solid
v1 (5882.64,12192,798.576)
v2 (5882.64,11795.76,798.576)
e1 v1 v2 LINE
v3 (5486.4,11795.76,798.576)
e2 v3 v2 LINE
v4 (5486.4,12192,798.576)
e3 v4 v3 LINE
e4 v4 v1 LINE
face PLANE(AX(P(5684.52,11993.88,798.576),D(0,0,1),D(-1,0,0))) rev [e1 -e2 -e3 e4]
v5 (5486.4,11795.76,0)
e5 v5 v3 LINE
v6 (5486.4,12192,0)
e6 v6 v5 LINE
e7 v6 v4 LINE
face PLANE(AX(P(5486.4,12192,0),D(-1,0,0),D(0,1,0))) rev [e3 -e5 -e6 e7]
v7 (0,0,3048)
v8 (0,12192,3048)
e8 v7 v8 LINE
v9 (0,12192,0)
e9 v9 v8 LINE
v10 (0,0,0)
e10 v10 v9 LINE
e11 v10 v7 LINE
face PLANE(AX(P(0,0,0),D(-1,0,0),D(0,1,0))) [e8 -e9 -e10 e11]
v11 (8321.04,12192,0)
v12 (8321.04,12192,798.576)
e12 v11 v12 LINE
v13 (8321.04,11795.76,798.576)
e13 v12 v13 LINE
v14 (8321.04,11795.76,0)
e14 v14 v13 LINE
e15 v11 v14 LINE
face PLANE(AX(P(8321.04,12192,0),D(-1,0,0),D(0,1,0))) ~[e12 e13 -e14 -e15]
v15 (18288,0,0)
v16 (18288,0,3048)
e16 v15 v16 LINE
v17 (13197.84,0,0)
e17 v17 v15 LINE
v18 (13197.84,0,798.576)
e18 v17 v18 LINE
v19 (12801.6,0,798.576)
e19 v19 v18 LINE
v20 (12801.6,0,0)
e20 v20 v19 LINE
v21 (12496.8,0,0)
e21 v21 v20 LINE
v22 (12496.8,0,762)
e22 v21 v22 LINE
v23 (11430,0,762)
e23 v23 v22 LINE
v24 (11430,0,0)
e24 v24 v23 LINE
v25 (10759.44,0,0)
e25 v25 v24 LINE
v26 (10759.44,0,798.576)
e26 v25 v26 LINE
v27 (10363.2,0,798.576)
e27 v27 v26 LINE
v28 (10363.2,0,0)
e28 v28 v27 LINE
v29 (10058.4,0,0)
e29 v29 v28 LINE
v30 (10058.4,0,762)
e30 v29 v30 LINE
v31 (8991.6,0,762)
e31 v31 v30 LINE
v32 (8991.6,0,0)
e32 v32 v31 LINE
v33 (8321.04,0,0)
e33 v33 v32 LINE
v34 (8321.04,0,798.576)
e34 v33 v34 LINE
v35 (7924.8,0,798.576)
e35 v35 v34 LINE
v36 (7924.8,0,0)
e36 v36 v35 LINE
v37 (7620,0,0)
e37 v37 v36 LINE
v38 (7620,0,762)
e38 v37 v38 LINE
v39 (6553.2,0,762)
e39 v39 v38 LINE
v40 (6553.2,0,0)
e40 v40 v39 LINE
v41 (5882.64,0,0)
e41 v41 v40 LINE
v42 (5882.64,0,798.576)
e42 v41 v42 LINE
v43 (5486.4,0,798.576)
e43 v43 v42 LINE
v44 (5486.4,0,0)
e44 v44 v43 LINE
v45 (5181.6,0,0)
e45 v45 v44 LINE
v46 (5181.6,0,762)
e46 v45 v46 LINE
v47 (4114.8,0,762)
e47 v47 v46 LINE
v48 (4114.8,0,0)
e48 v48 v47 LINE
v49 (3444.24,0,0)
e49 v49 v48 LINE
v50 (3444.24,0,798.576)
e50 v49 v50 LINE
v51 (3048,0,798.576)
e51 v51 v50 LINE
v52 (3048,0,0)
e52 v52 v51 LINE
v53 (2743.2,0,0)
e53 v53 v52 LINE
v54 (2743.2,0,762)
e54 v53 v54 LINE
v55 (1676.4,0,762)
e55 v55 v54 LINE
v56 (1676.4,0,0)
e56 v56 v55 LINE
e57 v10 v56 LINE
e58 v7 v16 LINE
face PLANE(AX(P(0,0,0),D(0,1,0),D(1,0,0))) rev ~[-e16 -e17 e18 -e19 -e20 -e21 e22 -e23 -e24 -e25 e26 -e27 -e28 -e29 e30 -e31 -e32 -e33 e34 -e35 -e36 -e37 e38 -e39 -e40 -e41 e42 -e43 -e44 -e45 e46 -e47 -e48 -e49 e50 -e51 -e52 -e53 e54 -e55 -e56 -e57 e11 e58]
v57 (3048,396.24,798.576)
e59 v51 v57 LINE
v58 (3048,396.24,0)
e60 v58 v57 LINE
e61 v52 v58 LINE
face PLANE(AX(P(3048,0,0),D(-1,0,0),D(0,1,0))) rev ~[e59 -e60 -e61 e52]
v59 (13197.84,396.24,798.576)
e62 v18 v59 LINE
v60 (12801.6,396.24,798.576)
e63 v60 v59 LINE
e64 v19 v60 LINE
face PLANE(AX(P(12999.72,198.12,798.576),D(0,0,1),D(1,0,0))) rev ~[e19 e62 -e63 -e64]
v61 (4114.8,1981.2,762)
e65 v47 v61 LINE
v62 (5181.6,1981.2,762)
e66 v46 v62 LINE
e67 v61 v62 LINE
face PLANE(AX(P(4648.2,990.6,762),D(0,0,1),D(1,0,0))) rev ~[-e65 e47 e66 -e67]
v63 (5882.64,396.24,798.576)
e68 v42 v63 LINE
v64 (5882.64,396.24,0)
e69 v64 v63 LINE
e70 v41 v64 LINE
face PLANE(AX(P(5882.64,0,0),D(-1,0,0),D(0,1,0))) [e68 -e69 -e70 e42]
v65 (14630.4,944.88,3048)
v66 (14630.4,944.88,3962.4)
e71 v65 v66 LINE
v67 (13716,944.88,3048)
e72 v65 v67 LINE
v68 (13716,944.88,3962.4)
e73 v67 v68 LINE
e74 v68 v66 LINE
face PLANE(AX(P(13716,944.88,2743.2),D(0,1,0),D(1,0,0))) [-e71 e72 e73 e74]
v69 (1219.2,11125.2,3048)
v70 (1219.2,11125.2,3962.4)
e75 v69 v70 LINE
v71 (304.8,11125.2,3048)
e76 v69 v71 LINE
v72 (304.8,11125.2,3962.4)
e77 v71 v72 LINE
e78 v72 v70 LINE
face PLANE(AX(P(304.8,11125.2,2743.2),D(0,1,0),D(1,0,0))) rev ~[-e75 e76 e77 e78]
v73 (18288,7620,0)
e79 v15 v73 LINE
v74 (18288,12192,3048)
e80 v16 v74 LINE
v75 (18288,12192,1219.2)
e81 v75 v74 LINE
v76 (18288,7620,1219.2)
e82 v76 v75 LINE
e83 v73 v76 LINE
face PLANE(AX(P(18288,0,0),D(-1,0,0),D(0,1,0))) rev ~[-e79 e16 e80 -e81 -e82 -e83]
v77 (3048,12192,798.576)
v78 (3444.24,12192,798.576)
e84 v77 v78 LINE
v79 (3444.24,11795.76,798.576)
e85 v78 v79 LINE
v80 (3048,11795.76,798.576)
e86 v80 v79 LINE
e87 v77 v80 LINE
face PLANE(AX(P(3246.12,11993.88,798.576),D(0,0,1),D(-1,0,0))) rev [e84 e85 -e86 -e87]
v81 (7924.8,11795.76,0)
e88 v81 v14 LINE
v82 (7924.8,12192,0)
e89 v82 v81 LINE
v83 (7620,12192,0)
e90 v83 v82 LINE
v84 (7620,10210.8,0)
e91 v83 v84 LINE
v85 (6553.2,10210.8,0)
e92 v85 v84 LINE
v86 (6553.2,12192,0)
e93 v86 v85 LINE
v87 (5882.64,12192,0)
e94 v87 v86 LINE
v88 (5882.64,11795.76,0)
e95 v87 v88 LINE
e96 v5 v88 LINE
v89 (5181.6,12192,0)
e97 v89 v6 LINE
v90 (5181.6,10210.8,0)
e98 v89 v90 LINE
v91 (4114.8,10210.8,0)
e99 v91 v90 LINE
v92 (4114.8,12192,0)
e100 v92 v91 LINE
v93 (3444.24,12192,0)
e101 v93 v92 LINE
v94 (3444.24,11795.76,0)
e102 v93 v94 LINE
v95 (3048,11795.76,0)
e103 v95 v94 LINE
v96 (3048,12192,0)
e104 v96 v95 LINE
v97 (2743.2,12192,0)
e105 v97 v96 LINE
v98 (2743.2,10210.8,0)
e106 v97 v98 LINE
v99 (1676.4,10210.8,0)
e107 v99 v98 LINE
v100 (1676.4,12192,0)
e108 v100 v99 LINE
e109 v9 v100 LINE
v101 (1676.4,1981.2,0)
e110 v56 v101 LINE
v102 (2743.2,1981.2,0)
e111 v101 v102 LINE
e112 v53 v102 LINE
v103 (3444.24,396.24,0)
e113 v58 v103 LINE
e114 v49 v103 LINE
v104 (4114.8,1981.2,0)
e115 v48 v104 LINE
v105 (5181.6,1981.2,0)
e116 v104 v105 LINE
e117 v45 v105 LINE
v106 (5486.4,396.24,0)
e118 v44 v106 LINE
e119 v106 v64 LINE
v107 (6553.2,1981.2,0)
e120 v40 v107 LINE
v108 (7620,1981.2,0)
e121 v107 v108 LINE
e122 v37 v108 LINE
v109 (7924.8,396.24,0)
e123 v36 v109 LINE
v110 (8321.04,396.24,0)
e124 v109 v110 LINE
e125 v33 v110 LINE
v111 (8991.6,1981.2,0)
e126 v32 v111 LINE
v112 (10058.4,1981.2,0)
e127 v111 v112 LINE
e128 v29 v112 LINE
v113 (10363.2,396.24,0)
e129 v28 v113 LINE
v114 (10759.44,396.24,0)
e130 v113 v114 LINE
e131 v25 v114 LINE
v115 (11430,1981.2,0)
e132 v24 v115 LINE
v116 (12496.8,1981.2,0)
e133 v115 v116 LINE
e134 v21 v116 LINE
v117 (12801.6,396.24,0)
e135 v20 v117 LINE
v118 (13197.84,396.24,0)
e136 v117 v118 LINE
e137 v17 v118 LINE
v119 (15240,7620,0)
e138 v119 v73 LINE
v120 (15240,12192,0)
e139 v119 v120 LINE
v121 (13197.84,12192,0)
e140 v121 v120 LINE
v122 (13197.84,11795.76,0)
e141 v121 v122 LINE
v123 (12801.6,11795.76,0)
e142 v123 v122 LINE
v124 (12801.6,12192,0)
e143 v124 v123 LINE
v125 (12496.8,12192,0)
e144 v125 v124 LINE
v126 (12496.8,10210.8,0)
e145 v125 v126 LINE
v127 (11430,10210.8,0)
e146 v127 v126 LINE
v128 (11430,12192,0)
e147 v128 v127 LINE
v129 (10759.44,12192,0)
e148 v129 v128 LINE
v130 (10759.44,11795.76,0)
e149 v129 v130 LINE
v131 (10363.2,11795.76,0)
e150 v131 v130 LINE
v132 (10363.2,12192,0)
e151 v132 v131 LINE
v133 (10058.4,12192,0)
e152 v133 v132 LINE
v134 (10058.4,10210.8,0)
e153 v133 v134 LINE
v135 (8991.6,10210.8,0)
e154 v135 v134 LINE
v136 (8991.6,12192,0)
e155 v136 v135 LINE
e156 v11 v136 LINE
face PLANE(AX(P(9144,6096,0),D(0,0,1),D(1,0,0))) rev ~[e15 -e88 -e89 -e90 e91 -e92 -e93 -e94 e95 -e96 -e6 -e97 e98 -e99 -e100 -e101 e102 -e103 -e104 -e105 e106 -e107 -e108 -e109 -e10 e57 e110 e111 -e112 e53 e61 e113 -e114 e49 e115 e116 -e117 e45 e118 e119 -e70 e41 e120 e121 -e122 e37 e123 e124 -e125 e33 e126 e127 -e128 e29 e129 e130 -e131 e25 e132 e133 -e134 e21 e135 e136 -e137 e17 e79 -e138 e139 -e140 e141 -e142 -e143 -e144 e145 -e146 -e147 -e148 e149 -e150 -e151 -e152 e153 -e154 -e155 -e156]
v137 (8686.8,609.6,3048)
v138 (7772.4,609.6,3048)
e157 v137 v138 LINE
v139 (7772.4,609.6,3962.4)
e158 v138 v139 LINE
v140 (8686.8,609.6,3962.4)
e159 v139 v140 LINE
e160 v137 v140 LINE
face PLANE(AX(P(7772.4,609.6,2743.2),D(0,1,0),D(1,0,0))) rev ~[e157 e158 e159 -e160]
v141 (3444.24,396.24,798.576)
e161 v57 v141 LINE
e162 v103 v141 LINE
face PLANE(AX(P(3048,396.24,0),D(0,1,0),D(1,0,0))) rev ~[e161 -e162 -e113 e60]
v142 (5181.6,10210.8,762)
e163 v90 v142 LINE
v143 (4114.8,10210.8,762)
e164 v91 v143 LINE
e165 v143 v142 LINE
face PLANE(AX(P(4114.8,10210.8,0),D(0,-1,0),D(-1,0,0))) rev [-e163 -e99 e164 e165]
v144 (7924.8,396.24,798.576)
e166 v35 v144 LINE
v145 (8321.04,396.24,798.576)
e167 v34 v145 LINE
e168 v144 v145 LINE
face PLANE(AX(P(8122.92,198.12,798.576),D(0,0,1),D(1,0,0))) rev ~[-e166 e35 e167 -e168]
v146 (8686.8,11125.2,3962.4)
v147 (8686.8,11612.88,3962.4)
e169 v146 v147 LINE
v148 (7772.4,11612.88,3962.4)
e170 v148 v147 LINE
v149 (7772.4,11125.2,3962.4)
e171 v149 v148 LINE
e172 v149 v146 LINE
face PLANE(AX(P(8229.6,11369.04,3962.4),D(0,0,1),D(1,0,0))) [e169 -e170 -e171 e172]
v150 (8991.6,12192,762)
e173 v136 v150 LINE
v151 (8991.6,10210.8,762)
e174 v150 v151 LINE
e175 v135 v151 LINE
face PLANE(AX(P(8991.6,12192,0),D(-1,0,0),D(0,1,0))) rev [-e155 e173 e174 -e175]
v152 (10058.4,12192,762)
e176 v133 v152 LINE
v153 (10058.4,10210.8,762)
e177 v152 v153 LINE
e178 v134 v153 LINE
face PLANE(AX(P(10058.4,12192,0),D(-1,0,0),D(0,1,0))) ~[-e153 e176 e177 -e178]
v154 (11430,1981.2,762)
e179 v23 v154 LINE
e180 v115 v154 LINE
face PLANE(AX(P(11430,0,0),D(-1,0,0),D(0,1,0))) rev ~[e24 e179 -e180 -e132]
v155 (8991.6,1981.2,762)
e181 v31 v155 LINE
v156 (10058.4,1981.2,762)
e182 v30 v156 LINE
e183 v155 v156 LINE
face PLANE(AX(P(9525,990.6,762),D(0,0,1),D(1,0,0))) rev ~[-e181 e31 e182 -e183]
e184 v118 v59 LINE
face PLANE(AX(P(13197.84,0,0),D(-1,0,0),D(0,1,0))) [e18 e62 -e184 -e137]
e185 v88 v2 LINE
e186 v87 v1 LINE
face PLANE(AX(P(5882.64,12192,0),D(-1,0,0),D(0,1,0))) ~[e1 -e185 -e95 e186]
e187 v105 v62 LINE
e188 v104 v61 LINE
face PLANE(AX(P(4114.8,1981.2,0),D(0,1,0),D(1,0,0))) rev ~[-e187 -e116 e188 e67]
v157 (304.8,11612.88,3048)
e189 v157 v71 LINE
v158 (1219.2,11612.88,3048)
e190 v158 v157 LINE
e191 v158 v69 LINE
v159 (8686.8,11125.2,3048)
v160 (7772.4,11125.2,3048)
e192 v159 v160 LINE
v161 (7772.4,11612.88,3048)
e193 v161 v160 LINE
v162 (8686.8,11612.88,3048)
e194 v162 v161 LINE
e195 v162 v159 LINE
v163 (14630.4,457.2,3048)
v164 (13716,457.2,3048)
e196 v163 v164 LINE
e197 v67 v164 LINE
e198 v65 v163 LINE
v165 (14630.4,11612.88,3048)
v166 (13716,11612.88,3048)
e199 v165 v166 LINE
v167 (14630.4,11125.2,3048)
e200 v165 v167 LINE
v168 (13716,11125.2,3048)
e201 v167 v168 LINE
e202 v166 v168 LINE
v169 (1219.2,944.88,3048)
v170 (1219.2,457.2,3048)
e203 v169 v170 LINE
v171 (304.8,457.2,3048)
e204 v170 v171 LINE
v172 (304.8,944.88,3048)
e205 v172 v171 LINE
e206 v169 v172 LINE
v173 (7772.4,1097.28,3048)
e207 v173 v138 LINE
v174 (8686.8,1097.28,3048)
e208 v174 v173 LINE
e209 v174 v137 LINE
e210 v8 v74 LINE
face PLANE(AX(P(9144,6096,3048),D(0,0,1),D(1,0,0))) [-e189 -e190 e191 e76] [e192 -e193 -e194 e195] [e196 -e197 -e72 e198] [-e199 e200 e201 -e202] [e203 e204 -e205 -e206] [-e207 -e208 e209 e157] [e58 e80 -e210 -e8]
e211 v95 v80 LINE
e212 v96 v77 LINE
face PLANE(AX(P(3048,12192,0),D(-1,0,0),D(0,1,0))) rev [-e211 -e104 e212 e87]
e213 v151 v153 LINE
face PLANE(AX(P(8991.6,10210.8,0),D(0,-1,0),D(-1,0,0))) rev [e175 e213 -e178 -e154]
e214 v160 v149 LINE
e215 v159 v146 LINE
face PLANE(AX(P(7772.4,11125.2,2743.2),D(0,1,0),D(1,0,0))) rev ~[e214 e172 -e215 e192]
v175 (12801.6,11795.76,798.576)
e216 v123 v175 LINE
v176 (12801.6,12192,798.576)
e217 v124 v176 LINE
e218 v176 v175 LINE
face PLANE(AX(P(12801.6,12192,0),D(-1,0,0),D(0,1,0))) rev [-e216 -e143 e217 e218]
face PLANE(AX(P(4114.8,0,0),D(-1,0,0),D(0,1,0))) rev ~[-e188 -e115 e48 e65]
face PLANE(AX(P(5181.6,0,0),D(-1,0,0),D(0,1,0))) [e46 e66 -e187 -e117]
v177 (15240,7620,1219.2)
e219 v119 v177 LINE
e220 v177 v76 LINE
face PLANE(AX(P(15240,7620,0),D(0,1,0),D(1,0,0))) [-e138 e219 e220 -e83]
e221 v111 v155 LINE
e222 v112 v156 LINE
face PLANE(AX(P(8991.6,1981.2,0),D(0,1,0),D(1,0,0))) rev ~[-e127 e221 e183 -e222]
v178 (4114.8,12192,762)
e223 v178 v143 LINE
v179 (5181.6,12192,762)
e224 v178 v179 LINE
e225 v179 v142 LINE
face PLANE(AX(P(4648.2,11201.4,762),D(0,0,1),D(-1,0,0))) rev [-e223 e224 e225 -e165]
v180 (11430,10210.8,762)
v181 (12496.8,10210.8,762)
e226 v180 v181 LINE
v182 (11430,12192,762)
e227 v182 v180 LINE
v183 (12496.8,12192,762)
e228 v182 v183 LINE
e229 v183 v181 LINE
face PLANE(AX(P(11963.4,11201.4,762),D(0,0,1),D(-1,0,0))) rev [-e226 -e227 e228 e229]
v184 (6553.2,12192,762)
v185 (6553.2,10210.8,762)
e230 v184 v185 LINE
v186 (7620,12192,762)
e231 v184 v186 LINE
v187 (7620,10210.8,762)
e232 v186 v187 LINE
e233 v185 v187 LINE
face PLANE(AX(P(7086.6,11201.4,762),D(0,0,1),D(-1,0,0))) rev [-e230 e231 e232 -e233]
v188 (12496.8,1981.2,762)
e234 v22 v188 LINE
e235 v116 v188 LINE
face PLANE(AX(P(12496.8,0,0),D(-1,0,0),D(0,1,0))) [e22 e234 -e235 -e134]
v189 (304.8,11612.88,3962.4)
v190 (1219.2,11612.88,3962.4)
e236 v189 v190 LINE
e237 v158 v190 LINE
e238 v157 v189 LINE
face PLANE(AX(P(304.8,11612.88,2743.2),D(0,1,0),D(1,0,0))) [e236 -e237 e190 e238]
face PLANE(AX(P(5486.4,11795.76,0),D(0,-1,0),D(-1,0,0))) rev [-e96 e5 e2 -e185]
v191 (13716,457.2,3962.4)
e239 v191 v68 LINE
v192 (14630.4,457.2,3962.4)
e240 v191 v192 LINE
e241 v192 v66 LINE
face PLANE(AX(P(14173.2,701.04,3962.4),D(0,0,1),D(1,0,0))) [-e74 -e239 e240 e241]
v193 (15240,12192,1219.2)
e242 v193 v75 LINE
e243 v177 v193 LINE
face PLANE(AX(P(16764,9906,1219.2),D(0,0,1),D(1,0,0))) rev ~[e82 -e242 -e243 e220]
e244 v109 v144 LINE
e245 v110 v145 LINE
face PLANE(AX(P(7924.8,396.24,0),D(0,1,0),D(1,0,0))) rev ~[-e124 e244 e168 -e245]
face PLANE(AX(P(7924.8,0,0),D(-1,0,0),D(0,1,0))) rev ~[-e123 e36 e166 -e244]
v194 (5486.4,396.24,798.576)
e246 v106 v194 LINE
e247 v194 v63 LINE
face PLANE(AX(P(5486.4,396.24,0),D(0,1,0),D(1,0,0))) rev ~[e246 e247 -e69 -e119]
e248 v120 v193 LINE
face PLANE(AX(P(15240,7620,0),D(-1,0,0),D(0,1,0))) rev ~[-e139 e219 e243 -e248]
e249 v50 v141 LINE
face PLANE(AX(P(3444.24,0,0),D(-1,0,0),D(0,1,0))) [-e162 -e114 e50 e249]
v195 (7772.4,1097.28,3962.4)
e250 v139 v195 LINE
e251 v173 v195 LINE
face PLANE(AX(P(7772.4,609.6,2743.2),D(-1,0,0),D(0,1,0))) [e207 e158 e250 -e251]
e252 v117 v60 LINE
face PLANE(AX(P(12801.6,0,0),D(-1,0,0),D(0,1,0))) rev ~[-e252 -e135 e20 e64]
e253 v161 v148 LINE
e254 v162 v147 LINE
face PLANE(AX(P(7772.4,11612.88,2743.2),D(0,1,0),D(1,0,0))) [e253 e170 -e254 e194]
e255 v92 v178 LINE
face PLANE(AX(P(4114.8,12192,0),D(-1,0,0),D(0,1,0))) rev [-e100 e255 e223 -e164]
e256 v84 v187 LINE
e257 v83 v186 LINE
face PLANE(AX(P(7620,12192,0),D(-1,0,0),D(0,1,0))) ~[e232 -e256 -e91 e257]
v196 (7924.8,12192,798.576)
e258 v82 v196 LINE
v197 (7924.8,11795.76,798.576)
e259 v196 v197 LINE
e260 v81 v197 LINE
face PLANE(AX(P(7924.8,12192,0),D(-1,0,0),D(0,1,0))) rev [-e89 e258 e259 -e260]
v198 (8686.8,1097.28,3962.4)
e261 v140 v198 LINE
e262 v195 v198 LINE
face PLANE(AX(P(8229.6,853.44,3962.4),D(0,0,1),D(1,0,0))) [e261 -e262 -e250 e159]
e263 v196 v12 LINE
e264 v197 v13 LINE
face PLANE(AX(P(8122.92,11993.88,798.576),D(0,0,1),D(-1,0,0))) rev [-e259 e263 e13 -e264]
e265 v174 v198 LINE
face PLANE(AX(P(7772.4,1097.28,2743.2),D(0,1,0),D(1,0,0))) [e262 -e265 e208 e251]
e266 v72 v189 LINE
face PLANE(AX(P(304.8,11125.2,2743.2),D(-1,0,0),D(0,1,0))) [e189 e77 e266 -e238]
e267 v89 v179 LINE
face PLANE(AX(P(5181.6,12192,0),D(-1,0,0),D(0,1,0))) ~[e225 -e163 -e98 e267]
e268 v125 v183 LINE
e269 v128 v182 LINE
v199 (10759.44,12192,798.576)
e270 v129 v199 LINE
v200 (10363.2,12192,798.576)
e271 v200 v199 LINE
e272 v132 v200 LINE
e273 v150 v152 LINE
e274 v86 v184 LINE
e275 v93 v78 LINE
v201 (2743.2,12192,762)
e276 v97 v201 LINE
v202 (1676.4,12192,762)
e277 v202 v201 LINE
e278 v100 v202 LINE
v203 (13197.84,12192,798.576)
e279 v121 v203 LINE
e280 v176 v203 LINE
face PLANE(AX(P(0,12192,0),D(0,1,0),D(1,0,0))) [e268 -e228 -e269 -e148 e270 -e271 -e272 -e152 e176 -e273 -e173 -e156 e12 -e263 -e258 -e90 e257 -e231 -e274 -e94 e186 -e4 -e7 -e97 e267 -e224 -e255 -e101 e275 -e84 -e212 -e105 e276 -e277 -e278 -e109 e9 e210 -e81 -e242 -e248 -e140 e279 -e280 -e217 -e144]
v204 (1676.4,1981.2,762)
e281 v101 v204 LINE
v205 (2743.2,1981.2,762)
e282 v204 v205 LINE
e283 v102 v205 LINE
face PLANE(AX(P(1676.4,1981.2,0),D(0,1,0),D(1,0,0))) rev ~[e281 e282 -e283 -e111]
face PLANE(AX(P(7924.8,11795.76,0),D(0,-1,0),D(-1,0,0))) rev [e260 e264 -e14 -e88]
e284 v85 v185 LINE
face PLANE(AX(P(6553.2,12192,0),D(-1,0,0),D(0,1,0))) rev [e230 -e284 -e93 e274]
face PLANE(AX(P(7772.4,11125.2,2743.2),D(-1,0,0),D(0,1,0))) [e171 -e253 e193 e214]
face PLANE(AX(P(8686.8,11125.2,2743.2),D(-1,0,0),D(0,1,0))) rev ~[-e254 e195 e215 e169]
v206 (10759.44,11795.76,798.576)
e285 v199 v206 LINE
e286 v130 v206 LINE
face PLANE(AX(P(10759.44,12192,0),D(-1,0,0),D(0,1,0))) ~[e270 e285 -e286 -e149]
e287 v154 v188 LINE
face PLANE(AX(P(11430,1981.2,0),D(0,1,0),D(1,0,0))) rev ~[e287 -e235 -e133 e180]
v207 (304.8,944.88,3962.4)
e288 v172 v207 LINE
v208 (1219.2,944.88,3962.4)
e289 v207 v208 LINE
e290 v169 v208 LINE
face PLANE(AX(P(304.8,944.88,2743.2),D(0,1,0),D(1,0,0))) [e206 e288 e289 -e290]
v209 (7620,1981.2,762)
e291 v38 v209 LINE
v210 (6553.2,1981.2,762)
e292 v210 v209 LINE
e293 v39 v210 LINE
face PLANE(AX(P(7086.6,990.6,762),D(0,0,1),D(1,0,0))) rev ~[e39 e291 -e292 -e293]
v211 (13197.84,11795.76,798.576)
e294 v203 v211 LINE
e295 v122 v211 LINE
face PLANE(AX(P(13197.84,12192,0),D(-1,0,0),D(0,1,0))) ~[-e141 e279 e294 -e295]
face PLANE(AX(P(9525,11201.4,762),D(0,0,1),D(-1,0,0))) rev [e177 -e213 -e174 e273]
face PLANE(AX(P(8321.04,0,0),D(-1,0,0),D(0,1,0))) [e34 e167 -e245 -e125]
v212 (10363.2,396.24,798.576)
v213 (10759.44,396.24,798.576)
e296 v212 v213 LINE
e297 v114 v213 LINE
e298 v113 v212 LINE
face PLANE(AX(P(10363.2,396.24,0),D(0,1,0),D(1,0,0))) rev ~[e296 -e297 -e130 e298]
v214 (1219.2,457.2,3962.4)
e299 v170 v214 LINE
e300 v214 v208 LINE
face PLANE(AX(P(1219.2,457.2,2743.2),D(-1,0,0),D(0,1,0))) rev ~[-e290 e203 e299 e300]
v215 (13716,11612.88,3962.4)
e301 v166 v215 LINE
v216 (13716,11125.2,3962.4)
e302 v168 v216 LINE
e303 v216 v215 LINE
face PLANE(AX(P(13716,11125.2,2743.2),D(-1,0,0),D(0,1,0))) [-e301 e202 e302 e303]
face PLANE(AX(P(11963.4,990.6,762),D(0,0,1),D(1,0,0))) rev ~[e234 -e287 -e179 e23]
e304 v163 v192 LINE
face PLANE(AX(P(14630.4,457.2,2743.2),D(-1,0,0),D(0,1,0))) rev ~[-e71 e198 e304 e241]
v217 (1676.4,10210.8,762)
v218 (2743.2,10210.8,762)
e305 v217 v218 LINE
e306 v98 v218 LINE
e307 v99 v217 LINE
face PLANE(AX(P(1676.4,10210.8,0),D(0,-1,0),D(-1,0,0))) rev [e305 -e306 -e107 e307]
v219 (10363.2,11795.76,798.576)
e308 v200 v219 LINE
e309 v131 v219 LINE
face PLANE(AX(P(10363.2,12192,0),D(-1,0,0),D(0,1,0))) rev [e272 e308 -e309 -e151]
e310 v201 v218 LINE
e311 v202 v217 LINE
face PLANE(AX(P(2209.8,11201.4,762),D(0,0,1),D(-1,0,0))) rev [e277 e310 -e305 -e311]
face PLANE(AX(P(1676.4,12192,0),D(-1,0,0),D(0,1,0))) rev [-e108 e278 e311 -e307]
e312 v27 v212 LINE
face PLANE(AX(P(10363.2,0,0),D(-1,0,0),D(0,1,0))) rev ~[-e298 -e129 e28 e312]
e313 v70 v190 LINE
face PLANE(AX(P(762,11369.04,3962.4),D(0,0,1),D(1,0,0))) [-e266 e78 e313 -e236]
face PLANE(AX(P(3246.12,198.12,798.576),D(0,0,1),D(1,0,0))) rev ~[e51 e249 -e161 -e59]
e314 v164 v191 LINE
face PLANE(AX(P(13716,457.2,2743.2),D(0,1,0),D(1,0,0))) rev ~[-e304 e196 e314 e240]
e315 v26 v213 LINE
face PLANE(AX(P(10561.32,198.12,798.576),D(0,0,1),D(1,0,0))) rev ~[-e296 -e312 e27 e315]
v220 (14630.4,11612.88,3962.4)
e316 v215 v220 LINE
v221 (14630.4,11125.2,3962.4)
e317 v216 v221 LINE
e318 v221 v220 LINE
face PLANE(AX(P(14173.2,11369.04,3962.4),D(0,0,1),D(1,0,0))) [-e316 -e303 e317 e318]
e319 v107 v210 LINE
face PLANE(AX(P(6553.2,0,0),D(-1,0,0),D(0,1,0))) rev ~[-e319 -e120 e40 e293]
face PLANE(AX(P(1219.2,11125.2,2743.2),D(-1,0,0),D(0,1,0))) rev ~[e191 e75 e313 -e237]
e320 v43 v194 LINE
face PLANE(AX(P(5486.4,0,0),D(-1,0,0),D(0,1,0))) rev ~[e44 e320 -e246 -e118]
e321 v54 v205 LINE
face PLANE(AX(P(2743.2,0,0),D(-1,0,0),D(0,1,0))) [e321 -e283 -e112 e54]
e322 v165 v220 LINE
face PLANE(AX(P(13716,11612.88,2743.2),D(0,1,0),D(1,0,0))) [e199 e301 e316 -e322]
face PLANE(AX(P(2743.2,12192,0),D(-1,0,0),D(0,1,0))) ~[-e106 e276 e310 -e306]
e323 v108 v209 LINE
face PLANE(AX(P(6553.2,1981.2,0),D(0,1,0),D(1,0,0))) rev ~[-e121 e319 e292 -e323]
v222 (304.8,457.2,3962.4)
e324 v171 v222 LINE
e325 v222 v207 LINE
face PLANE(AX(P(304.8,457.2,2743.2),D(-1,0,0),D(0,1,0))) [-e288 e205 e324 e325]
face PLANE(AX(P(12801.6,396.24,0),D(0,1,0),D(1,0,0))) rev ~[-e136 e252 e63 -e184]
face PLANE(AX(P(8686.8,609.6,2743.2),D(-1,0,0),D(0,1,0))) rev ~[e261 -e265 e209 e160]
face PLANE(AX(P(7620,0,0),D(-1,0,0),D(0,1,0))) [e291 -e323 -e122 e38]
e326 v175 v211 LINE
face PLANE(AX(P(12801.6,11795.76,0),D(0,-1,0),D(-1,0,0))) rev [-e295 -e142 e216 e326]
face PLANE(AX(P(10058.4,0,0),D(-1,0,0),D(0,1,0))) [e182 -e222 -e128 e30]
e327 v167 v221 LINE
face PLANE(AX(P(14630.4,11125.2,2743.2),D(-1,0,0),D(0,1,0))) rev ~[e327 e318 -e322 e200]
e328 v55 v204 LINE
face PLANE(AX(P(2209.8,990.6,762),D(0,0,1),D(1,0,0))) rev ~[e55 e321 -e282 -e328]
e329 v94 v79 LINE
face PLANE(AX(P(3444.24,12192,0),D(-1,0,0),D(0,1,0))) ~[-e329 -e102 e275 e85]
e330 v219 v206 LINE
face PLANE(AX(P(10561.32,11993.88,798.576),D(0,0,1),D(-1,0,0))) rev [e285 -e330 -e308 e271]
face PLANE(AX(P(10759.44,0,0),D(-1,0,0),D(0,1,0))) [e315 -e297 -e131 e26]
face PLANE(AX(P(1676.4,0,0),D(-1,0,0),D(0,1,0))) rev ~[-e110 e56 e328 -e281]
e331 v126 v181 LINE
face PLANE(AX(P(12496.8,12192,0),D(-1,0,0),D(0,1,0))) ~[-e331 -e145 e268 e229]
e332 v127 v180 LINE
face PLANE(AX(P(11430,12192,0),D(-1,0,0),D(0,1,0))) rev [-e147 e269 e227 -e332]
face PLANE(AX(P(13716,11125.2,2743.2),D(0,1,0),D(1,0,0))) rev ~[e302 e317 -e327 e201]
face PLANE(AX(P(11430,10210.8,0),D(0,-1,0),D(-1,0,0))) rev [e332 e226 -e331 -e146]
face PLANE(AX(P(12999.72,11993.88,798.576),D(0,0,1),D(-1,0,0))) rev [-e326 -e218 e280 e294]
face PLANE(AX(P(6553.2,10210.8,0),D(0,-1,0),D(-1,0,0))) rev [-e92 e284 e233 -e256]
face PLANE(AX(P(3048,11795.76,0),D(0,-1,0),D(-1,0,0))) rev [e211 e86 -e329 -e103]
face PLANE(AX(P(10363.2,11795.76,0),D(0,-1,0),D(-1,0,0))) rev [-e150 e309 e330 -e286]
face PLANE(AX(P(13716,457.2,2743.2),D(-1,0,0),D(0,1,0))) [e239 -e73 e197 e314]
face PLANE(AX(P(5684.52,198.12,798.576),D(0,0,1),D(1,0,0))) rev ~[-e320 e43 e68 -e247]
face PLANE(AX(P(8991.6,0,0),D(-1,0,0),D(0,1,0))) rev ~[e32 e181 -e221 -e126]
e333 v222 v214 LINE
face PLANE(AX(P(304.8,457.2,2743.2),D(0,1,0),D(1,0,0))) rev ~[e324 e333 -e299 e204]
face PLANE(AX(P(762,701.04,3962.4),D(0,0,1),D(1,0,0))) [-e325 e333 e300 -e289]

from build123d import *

# Parameters (mm, degrees)
BOX006_W     = 1066.8
BOX006_H     = 1981.2
BOX006_DEPTH = 762
BOX005_W     = 396.24
BOX005_H     = 396.24
BOX005_DEPTH = 798.576
BOX007_W     = 1066.8
BOX007_H     = 1981.2
BOX007_DEPTH = 762
BOX008_W     = 396.24
BOX008_H     = 396.24
BOX008_DEPTH = 798.576
BOX010_W     = 1066.8
BOX010_H     = 1981.2
BOX010_DEPTH = 762
BOX009_W     = 396.24
BOX009_H     = 396.24
BOX009_DEPTH = 798.576
BOX001_W     = 1066.8
BOX001_H     = 1981.2
BOX001_DEPTH = 762
BOX002_W     = 396.24
BOX002_H     = 396.24
BOX002_DEPTH = 798.576
BOX003_W     = 1066.8
BOX003_H     = 1981.2
BOX003_DEPTH = 762
BOX004_W     = 396.24
BOX004_H     = 396.24
BOX004_DEPTH = 798.576
BOX011_W     = 3048
BOX011_H     = 4572
BOX011_DEPTH = 1219.2
BOX014_W     = 914.4
BOX014_H     = 487.68
BOX014_DEPTH = 1219.2
BOX015_W     = 914.4
BOX015_H     = 487.68
BOX015_DEPTH = 1219.2
BOX018_W     = 914.4
BOX018_H     = 487.68
BOX018_DEPTH = 1219.2
BOX019_W     = 914.4
BOX019_H     = 487.68
BOX019_DEPTH = 1219.2
BOX020_W     = 914.4
BOX020_H     = 487.68
BOX020_DEPTH = 1219.2
BOX021_W     = 914.4
BOX021_H     = 487.68
BOX021_DEPTH = 1219.2
BOX_W        = 18288
BOX_H        = 12192
BOX_DEPTH    = 3048


with BuildPart() as box006:
    # Box006 → Box006 (new body)
    with BuildSketch(Plane.XY):
        with Locations((533.4, 990.6)):
            Rectangle(BOX006_W, BOX006_H)
    extrude(amount=BOX006_DEPTH)


with BuildPart() as fusion002:
    # Box005 → Box005 (new body)
    with BuildSketch(Plane(origin=(1371.6, 0, 0), x_dir=(1, 0, 0), z_dir=(0, 0, 1))):
        with Locations((198.12, 198.12)):
            Rectangle(BOX005_W, BOX005_H)
    extrude(amount=BOX005_DEPTH)

    # Fusion002: union Box006
    add(box006.part)


with BuildPart() as fusion002_1:
    # Fusion002 placement: moved
    add(fusion002.part.moved(Location((4876.8, 0, 0))))


with BuildPart() as box007:
    # Box007 → Box007 (new body)
    with BuildSketch(Plane.XY):
        with Locations((533.4, 990.6)):
            Rectangle(BOX007_W, BOX007_H)
    extrude(amount=BOX007_DEPTH)


with BuildPart() as fusion003:
    # Box008 → Box008 (new body)
    with BuildSketch(Plane(origin=(1371.6, 0, 0), x_dir=(1, 0, 0), z_dir=(0, 0, 1))):
        with Locations((198.12, 198.12)):
            Rectangle(BOX008_W, BOX008_H)
    extrude(amount=BOX008_DEPTH)

    # Fusion003: union Box007
    add(box007.part)


with BuildPart() as fusion003_1:
    # Fusion003 placement: moved
    add(fusion003.part.moved(Location((7315.2, 0, 0))))


with BuildPart() as box010:
    # Box010 → Box010 (new body)
    with BuildSketch(Plane.XY):
        with Locations((533.4, 990.6)):
            Rectangle(BOX010_W, BOX010_H)
    extrude(amount=BOX010_DEPTH)


with BuildPart() as fusion004:
    # Box009 → Box009 (new body)
    with BuildSketch(Plane(origin=(1371.6, 0, 0), x_dir=(1, 0, 0), z_dir=(0, 0, 1))):
        with Locations((198.12, 198.12)):
            Rectangle(BOX009_W, BOX009_H)
    extrude(amount=BOX009_DEPTH)

    # Fusion004: union Box010
    add(box010.part)


with BuildPart() as fusion004_1:
    # Fusion004 placement: moved
    add(fusion004.part.moved(Location((9753.6, 0, 0))))


with BuildPart() as box001:
    # Box001 → Box001 (new body)
    with BuildSketch(Plane.XY):
        with Locations((533.4, 990.6)):
            Rectangle(BOX001_W, BOX001_H)
    extrude(amount=BOX001_DEPTH)


with BuildPart() as fusion:
    # Box002 → Box002 (new body)
    with BuildSketch(Plane(origin=(1371.6, 0, 0), x_dir=(1, 0, 0), z_dir=(0, 0, 1))):
        with Locations((198.12, 198.12)):
            Rectangle(BOX002_W, BOX002_H)
    extrude(amount=BOX002_DEPTH)

    # Fusion: union Box001
    add(box001.part)


with BuildPart() as box003:
    # Box003 → Box003 (new body)
    with BuildSketch(Plane.XY):
        with Locations((533.4, 990.6)):
            Rectangle(BOX003_W, BOX003_H)
    extrude(amount=BOX003_DEPTH)


with BuildPart() as right_beds:
    # Box004 → Box004 (new body)
    with BuildSketch(Plane(origin=(1371.6, 0, 0), x_dir=(1, 0, 0), z_dir=(0, 0, 1))):
        with Locations((198.12, 198.12)):
            Rectangle(BOX004_W, BOX004_H)
    extrude(amount=BOX004_DEPTH)

    # Fusion001: union Box003
    add(box003.part)


with BuildPart() as right_beds_1:
    # Fusion001 placement: moved
    add(right_beds.part.moved(Location((2438.4, 0, 0))))

    # Fusion005: union Fusion002, Fusion003, Fusion004, Fusion
    add(fusion002_1.part)
    add(fusion003_1.part)
    add(fusion004_1.part)
    add(fusion.part)


with BuildPart() as all_beds:
    # Part__Mirroring: instance of right beds
    add(right_beds_1.part.mirror(Plane(origin=(0, 6096, 0), x_dir=(1, 0, 0), z_dir=(0, 1, 0))))

    # Fusion006: union right beds
    add(right_beds_1.part)


with BuildPart() as all_beds_1:
    # Fusion006 placement: moved
    add(all_beds.part.moved(Location((1676.4, 0, 0))))


with BuildPart() as surfaces:
    # Box011 → Box011 (new body)
    with BuildSketch(Plane(origin=(15240, 7620, 0), x_dir=(1, 0, 0), z_dir=(0, 0, 1))):
        with Locations((1524, 2286)):
            Rectangle(BOX011_W, BOX011_H)
    extrude(amount=BOX011_DEPTH)

    # Fusion008: union all beds
    add(all_beds_1.part)


with BuildPart() as box014:
    # Box014 → Box014 (new body)
    with BuildSketch(Plane(origin=(13716, 11125.2, 2743.2), x_dir=(1, 0, 0), z_dir=(0, 0, 1))):
        with Locations((457.2, 243.84)):
            Rectangle(BOX014_W, BOX014_H)
    extrude(amount=BOX014_DEPTH)


with BuildPart() as box015:
    # Box015 → Box015 (new body)
    with BuildSketch(Plane(origin=(13716, 457.2, 2743.2), x_dir=(1, 0, 0), z_dir=(0, 0, 1))):
        with Locations((457.2, 243.84)):
            Rectangle(BOX015_W, BOX015_H)
    extrude(amount=BOX015_DEPTH)


with BuildPart() as box018:
    # Box018 → Box018 (new body)
    with BuildSketch(Plane(origin=(304.8, 457.2, 2743.2), x_dir=(1, 0, 0), z_dir=(0, 0, 1))):
        with Locations((457.2, 243.84)):
            Rectangle(BOX018_W, BOX018_H)
    extrude(amount=BOX018_DEPTH)


with BuildPart() as box019:
    # Box019 → Box019 (new body)
    with BuildSketch(Plane(origin=(304.8, 11125.2, 2743.2), x_dir=(1, 0, 0), z_dir=(0, 0, 1))):
        with Locations((457.2, 243.84)):
            Rectangle(BOX019_W, BOX019_H)
    extrude(amount=BOX019_DEPTH)


with BuildPart() as box020:
    # Box020 → Box020 (new body)
    with BuildSketch(Plane(origin=(7772.4, 11125.2, 2743.2), x_dir=(1, 0, 0), z_dir=(0, 0, 1))):
        with Locations((457.2, 243.84)):
            Rectangle(BOX020_W, BOX020_H)
    extrude(amount=BOX020_DEPTH)


with BuildPart() as fusion009:
    # Box021 → Box021 (new body)
    with BuildSketch(Plane(origin=(7772.4, 609.6, 2743.2), x_dir=(1, 0, 0), z_dir=(0, 0, 1))):
        with Locations((457.2, 243.84)):
            Rectangle(BOX021_W, BOX021_H)
    extrude(amount=BOX021_DEPTH)

    # Fusion009: union Box014, Box015, Box018, Box019, Box020
    add(box014.part)
    add(box015.part)
    add(box018.part)
    add(box019.part)
    add(box020.part)


with BuildPart() as cut:
    # Box → Box (new body)
    with BuildSketch(Plane.XY):
        with Locations((9144, 6096)):
            Rectangle(BOX_W, BOX_H)
    extrude(amount=BOX_DEPTH)

    # Fusion010: union Fusion009
    add(fusion009.part)

    # Cut: cut surfaces
    add(surfaces.part, mode=Mode.SUBTRACT)


solid = cut.part
